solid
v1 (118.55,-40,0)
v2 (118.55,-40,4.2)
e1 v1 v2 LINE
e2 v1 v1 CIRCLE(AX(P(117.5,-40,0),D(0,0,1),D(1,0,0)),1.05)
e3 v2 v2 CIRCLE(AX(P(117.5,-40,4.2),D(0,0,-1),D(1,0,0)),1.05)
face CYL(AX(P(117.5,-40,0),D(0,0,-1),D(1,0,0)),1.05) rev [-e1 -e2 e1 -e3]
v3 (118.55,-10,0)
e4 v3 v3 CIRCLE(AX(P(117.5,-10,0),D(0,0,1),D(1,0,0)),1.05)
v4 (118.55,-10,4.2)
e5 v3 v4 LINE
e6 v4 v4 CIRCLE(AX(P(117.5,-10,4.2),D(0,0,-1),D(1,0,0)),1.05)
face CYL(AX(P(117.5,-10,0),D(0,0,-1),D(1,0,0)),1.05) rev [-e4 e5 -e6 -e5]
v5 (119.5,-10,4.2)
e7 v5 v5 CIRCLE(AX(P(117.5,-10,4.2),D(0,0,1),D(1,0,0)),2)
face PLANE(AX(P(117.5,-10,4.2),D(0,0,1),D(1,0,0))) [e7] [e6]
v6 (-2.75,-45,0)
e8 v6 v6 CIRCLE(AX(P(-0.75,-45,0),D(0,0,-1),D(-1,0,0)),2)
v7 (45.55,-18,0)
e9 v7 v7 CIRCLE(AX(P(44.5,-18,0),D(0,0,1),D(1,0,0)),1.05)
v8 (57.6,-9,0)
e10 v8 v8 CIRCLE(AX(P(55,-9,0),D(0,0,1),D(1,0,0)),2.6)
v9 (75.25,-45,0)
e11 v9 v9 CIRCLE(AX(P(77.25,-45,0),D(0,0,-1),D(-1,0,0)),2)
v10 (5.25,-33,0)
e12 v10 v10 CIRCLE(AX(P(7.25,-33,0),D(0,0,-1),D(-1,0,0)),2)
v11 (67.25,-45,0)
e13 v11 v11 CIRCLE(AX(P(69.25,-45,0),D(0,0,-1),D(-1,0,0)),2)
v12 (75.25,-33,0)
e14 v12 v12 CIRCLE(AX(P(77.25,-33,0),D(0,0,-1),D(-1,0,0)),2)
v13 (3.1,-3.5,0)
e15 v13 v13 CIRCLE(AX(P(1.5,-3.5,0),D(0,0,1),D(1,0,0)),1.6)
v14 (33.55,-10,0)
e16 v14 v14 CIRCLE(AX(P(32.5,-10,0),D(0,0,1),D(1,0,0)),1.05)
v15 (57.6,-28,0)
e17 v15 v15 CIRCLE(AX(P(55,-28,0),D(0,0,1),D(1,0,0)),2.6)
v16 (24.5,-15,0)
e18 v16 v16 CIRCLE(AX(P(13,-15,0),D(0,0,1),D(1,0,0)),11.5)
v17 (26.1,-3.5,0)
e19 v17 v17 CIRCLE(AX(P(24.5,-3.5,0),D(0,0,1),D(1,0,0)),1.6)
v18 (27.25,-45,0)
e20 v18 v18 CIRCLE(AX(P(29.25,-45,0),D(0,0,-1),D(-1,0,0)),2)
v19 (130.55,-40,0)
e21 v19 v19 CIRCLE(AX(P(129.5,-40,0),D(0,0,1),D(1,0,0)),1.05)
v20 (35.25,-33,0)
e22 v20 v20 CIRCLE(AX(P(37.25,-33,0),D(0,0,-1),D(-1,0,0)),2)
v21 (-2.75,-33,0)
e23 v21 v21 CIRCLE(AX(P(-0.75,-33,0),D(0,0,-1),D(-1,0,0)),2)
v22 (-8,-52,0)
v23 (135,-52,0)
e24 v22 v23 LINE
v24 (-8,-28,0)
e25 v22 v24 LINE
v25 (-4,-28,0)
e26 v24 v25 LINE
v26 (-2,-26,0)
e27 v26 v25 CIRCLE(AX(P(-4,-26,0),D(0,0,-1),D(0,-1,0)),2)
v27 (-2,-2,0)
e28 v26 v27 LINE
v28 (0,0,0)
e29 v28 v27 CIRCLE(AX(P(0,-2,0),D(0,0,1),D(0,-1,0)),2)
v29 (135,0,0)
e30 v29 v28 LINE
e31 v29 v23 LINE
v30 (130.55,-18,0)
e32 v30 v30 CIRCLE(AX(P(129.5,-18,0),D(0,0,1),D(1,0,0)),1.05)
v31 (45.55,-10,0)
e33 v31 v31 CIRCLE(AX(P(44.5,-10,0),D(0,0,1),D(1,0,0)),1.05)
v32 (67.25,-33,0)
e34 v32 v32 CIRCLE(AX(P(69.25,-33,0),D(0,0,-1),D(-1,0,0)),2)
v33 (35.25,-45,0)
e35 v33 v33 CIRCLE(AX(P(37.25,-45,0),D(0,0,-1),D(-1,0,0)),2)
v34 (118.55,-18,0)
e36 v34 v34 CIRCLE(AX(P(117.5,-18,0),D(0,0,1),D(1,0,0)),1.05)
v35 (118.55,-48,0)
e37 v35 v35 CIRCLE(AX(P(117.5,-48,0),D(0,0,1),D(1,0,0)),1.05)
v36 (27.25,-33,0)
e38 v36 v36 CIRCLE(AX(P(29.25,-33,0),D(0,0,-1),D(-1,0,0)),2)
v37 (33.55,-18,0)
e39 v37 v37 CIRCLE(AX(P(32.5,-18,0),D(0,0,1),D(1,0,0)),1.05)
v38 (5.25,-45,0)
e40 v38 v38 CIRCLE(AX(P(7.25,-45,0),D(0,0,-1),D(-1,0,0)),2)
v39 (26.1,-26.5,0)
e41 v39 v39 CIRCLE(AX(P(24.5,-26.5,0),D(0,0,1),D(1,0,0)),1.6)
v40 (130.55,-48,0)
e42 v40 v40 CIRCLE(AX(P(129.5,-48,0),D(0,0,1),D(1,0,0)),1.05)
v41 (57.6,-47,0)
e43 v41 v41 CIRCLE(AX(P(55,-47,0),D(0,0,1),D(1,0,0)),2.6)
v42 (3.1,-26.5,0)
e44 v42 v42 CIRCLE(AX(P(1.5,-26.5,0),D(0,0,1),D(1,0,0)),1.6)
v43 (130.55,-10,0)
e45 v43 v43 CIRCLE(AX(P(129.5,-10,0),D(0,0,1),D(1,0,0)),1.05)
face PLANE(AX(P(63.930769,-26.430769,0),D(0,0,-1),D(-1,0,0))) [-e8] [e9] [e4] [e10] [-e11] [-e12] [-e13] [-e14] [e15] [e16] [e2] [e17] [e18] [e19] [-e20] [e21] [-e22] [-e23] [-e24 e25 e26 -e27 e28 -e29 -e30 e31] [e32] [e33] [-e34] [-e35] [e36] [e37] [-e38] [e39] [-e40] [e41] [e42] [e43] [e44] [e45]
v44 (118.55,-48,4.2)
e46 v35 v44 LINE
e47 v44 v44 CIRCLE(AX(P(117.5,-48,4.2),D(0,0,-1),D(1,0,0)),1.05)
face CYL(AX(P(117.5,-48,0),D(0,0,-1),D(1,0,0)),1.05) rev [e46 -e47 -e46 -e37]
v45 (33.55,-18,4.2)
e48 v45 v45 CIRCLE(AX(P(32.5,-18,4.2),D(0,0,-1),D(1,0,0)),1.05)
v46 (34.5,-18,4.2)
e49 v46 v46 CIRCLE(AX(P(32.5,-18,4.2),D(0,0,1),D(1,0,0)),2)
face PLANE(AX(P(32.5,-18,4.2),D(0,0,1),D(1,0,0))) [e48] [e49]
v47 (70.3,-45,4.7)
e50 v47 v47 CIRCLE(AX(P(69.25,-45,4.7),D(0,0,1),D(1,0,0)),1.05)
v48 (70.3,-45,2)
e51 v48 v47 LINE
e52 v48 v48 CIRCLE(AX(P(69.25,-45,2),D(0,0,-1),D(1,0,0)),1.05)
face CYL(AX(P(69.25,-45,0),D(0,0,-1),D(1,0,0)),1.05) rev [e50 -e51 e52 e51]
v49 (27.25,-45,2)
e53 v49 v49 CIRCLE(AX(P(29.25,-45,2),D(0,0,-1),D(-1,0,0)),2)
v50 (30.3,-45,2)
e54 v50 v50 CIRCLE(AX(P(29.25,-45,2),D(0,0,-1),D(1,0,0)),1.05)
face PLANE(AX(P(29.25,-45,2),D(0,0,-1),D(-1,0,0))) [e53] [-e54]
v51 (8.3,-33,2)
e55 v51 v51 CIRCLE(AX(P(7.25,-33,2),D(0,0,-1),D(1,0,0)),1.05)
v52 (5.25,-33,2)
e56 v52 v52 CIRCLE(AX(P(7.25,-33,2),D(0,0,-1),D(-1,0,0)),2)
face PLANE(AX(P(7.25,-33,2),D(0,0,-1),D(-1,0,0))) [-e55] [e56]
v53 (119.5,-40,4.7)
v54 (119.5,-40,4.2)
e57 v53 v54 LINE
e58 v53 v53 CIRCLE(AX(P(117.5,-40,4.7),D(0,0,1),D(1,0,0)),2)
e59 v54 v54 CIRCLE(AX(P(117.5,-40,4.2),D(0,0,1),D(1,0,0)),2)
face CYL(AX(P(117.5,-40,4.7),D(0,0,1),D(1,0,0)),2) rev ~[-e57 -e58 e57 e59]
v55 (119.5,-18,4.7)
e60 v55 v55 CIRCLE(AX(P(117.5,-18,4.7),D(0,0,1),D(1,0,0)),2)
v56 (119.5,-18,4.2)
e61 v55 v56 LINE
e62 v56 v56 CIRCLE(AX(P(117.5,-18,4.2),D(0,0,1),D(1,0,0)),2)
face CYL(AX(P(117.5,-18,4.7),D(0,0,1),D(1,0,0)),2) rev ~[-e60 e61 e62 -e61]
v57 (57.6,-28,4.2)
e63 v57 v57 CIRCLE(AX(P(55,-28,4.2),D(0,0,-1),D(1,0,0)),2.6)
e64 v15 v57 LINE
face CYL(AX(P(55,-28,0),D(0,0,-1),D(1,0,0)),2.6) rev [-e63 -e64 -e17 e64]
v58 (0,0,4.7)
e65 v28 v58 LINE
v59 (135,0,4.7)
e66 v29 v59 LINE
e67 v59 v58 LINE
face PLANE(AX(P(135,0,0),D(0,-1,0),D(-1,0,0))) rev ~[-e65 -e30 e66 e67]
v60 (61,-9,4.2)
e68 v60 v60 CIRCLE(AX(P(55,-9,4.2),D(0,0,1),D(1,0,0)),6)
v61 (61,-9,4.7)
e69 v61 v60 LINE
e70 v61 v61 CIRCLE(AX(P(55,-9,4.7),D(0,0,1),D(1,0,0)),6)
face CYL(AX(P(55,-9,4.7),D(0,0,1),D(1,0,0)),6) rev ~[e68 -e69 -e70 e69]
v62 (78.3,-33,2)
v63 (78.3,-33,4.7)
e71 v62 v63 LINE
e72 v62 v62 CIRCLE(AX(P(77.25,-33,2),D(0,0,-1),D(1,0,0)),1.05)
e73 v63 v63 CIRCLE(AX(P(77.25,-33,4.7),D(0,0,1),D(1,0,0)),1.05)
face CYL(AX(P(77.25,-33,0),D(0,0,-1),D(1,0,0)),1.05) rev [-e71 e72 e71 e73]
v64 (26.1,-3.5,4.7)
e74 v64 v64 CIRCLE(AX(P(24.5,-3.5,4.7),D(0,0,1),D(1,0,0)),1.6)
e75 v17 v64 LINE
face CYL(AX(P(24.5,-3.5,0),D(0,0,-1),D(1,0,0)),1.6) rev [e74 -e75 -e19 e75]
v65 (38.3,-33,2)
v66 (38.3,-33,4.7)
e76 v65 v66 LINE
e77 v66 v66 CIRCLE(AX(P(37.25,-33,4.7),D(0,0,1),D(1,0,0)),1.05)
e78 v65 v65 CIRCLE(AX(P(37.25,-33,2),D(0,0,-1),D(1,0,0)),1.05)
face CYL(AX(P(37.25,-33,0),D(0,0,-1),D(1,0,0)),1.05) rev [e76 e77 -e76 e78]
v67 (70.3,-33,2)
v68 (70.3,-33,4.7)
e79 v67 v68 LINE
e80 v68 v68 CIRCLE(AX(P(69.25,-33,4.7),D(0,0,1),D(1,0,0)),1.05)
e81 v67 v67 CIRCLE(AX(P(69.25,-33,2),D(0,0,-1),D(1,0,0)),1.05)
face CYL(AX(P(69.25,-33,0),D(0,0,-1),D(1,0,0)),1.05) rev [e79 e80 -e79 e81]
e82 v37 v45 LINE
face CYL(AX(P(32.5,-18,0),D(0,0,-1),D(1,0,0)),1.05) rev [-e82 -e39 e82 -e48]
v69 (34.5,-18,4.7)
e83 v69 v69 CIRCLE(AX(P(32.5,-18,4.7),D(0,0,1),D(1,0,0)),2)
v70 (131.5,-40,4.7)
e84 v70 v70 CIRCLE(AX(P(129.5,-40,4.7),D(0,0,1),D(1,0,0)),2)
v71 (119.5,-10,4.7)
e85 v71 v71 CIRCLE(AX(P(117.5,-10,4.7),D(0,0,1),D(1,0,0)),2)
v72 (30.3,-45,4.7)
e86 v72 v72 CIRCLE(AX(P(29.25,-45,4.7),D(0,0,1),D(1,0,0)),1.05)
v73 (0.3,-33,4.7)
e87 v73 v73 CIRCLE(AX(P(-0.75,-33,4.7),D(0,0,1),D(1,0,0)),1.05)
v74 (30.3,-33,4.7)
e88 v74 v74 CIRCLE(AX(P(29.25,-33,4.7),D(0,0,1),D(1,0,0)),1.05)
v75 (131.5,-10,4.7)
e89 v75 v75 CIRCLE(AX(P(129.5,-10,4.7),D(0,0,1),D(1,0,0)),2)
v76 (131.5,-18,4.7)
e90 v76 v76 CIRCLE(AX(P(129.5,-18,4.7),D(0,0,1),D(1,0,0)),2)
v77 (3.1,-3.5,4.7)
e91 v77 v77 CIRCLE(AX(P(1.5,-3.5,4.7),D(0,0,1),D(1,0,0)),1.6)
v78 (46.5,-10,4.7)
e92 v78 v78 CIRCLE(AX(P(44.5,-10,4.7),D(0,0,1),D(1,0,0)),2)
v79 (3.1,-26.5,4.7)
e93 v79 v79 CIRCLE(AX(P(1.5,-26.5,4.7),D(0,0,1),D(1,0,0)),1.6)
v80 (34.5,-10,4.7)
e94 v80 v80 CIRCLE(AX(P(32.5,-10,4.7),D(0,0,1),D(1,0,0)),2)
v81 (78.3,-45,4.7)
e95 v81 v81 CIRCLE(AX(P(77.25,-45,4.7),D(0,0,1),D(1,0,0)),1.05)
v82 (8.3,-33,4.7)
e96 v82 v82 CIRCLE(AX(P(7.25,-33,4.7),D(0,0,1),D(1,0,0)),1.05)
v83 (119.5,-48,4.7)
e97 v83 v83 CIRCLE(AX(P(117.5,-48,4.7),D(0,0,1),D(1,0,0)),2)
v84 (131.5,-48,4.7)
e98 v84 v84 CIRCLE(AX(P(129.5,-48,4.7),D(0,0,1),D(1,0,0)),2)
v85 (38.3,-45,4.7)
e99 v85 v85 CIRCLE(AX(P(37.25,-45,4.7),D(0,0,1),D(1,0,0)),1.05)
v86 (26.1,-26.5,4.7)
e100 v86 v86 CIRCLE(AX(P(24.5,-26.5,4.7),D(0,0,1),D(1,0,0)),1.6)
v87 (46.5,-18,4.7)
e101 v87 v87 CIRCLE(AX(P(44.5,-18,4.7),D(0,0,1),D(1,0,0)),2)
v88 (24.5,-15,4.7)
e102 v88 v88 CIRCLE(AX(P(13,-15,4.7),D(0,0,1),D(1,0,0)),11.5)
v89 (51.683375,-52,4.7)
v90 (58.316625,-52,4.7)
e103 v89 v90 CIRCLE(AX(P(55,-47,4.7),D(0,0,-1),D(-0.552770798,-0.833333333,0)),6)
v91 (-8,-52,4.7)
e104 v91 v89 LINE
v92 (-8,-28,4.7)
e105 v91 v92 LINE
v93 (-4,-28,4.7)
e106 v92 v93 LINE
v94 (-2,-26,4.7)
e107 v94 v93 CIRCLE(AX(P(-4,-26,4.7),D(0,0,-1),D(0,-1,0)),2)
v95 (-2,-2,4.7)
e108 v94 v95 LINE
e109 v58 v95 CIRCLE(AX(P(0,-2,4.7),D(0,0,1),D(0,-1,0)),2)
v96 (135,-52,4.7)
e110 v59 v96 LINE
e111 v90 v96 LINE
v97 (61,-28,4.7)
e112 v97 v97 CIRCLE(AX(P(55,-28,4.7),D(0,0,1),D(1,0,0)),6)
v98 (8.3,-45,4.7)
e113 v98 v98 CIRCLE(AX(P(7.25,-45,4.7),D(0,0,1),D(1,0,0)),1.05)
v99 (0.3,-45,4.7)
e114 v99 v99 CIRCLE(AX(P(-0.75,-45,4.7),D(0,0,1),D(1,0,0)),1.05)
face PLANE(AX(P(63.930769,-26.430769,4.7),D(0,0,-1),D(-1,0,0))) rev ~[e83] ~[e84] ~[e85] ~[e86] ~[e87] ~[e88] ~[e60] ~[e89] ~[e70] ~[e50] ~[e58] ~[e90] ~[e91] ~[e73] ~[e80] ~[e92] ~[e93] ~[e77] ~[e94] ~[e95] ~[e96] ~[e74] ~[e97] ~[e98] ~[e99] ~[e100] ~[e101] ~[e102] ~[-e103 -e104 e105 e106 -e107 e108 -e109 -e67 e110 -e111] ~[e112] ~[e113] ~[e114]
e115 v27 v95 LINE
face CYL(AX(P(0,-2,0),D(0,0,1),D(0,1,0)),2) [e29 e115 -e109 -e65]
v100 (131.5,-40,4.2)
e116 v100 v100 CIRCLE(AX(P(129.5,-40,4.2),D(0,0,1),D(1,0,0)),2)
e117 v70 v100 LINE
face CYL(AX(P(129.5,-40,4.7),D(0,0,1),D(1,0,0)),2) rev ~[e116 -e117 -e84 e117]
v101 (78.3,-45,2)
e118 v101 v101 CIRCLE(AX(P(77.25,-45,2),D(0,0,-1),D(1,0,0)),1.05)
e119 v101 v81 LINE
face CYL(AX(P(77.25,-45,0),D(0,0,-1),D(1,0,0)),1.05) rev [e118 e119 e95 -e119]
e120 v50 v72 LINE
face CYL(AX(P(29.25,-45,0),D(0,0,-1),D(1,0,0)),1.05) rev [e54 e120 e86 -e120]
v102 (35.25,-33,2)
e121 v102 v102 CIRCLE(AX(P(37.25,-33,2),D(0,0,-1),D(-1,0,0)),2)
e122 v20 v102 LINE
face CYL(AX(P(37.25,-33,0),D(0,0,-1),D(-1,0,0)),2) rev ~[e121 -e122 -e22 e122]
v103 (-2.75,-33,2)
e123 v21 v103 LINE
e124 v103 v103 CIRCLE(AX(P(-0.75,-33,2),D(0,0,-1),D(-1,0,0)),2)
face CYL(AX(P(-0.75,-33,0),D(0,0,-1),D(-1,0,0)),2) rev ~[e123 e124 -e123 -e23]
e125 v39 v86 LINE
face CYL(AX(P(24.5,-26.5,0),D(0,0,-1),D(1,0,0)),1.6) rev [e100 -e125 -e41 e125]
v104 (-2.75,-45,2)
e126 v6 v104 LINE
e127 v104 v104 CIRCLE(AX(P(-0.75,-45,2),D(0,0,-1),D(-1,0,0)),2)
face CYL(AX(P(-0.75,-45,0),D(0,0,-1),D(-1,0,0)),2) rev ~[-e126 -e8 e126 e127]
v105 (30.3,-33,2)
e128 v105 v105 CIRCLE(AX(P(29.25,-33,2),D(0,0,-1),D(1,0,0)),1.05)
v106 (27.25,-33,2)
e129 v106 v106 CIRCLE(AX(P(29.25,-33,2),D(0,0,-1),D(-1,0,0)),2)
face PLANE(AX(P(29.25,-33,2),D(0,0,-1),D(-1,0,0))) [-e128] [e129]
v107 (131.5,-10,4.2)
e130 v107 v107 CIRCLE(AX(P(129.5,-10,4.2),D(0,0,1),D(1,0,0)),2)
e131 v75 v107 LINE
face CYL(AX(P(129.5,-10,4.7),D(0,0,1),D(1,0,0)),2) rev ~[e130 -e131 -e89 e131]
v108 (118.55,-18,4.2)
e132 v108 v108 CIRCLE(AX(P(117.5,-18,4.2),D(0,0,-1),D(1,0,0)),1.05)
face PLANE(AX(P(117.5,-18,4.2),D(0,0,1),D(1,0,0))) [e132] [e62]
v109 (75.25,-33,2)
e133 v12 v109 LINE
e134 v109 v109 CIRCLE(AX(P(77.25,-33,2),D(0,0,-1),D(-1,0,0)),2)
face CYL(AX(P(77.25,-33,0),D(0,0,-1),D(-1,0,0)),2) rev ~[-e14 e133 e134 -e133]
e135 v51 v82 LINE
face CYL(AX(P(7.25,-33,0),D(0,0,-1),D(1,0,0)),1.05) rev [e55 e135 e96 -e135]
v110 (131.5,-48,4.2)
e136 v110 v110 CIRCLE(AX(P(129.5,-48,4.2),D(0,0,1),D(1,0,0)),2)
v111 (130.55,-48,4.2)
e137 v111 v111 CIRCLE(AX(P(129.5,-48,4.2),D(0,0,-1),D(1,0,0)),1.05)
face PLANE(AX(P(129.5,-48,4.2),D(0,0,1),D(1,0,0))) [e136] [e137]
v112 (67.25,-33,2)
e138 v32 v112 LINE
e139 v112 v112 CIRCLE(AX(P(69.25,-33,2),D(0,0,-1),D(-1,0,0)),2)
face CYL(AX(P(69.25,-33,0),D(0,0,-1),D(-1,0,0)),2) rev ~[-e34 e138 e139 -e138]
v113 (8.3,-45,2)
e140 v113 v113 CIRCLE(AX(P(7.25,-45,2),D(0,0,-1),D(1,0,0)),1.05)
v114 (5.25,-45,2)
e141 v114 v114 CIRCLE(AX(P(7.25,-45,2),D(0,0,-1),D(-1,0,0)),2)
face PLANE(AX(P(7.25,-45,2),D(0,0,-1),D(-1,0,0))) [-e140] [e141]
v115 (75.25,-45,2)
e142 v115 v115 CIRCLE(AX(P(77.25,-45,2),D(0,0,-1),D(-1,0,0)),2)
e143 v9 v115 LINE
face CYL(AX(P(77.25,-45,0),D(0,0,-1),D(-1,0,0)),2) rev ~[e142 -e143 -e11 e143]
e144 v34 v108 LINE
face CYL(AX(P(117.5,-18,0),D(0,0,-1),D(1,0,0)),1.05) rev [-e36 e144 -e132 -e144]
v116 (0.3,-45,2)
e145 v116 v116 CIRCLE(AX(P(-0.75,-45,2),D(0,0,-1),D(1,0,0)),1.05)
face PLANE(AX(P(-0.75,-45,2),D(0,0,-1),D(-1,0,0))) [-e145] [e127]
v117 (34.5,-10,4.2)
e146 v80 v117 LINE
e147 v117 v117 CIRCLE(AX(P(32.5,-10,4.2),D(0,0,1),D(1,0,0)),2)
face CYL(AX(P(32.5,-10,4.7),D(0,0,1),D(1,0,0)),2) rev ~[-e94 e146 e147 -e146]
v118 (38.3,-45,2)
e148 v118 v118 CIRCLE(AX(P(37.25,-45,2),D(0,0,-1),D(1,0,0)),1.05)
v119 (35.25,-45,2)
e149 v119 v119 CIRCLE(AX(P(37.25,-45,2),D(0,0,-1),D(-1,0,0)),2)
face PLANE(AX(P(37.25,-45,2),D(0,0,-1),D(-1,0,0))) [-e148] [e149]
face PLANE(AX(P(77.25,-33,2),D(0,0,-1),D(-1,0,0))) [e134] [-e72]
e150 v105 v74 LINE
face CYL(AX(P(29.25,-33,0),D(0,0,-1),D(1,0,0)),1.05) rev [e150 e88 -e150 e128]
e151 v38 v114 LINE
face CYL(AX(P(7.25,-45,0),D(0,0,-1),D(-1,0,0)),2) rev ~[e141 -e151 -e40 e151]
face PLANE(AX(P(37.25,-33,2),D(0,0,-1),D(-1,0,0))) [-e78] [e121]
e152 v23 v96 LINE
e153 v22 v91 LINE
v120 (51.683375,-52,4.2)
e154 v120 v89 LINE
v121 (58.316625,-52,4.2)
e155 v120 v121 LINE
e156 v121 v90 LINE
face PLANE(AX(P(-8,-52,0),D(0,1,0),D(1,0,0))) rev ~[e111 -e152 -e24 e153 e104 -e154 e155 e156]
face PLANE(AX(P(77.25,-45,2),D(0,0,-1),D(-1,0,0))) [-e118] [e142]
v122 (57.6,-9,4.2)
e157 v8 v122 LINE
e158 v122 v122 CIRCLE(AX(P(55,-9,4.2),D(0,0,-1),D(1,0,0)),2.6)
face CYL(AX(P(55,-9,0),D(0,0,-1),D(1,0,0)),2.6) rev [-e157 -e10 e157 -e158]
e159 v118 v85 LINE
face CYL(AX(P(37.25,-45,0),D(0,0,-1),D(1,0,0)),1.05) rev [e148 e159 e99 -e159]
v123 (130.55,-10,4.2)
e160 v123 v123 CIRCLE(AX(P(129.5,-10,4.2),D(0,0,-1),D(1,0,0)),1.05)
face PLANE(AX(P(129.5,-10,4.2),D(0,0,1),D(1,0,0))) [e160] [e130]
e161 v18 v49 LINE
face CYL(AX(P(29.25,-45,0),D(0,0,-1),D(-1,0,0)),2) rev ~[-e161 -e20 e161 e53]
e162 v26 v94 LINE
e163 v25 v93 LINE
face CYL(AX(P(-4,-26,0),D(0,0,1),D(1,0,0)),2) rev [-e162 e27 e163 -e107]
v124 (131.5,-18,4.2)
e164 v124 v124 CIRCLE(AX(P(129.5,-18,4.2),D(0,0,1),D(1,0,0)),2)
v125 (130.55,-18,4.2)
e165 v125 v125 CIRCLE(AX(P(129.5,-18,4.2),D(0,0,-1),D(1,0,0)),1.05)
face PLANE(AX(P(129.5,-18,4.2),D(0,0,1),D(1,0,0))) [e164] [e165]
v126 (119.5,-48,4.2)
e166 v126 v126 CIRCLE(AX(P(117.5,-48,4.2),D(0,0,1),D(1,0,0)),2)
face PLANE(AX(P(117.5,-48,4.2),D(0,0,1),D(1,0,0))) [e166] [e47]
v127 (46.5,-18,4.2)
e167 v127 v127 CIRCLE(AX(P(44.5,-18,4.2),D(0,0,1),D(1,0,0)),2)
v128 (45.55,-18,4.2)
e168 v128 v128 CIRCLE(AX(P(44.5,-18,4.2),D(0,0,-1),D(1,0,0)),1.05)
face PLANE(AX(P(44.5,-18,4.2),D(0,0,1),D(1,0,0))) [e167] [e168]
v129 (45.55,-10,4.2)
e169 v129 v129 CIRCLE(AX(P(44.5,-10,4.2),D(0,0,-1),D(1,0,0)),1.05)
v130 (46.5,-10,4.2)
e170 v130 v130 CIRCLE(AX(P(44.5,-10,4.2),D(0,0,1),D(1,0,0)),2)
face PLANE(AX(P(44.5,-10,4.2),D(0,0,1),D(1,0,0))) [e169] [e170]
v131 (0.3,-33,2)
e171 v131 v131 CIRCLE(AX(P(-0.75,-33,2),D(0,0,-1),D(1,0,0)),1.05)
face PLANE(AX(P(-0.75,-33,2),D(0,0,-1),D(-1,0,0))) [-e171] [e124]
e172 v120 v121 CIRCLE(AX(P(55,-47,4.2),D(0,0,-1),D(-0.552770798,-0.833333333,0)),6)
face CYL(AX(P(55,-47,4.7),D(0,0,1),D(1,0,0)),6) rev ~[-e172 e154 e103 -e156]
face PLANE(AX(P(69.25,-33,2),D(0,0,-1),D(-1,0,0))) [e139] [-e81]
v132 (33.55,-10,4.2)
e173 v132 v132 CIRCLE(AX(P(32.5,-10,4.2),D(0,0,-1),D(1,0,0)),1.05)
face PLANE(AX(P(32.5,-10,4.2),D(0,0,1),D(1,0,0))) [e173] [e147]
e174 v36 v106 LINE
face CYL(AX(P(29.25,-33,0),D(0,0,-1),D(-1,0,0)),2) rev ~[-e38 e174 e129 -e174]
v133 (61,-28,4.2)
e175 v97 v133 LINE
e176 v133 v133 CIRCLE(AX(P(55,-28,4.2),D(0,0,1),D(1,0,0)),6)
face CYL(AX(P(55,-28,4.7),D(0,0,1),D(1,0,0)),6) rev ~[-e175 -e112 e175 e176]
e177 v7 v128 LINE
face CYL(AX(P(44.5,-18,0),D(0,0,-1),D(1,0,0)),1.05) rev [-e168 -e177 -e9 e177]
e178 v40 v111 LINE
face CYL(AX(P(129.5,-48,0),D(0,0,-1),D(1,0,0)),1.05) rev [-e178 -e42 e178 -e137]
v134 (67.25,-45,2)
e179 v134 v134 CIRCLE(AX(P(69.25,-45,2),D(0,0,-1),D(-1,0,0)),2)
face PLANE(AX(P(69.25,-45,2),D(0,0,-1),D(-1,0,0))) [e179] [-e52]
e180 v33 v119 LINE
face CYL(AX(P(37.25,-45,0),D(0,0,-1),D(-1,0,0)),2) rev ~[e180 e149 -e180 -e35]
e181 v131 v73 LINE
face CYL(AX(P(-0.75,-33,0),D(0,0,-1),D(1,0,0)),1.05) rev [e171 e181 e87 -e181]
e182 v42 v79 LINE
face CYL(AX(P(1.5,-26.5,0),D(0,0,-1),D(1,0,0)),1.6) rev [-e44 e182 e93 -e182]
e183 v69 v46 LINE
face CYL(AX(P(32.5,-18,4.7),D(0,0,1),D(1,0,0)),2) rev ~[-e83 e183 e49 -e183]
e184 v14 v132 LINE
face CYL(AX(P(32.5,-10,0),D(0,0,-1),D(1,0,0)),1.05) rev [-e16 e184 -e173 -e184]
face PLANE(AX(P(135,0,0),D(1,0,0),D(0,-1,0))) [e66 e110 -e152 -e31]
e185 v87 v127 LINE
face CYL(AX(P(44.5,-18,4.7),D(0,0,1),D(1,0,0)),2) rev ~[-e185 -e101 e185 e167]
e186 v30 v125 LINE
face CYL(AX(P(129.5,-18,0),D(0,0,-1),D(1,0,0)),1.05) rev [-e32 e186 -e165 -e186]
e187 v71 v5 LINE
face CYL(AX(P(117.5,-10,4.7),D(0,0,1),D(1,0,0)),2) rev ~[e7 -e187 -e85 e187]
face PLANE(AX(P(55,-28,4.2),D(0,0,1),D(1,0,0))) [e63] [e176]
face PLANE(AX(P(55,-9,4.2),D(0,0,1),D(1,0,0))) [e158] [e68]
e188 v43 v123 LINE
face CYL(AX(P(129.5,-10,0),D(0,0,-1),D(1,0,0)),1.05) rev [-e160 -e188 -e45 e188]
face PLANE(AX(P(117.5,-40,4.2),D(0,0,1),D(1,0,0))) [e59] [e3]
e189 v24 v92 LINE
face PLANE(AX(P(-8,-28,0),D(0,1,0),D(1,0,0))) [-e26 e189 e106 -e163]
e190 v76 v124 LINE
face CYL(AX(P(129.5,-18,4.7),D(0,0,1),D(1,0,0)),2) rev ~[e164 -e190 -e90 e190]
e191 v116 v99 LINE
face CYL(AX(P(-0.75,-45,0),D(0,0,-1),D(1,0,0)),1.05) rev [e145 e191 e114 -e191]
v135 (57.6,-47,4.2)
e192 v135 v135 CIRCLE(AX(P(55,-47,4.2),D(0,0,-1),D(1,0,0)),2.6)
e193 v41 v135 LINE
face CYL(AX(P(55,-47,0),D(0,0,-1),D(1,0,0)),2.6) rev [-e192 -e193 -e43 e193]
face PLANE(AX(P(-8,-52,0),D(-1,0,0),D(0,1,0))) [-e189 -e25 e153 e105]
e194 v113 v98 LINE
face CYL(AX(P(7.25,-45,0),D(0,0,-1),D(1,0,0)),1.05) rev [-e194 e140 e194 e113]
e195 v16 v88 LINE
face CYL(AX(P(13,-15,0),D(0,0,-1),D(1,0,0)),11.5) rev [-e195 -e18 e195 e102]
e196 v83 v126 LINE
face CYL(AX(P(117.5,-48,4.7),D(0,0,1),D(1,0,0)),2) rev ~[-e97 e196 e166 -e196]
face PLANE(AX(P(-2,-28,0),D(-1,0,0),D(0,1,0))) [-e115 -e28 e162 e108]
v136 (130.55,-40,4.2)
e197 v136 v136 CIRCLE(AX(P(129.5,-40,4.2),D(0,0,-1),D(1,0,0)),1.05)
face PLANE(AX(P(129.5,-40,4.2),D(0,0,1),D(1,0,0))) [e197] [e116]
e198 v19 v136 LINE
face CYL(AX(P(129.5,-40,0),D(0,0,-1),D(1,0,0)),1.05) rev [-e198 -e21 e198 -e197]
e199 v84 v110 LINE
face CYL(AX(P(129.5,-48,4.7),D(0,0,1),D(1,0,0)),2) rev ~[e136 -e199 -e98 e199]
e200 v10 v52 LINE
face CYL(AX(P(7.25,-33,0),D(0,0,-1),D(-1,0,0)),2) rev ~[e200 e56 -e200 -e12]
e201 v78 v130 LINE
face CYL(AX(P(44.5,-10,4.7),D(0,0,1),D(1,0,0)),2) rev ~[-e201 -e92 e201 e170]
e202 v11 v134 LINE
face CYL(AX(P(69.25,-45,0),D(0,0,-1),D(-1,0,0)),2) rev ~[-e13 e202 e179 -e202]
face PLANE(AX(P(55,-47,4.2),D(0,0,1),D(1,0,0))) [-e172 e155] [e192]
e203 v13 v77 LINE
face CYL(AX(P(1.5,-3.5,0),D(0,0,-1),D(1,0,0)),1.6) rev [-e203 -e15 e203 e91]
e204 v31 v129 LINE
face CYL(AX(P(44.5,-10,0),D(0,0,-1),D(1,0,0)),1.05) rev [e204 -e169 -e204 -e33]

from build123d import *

# Parameters (mm, degrees)
SKETCH_1_R          = 11.5
SKETCH_1_R_2        = 1.6
SKETCH_1_R_3        = 1.05
SKETCH_1_R_4        = 2.6
EXTRUDE_1_DEPTH     = 4.7
SKETCH_2_R          = 2
SKETCH_2_R_2        = 6
CUT_EXTRUDE_1_DEPTH = 0.5
SKETCH_5_R          = 2
CUT_EXTRUDE_2_DEPTH = 2
FILLET_1_R          = 2


with BuildPart() as part:
    # 草图1 → 凸台-拉伸1 (new body)
    with BuildSketch(Plane.XY):
        Polygon((0, 0), (135, 0), (135, -52), (0, -52), (-8, -52), (-8, -28), (-2, -28), (-2, 0), align=None)
        with Locations((13, -15)):
            Circle(SKETCH_1_R, mode=Mode.SUBTRACT)
        with Locations((1.5, -3.5)):
            Circle(SKETCH_1_R_2, mode=Mode.SUBTRACT)
        with Locations((24.5, -3.5)):
            Circle(SKETCH_1_R_2, mode=Mode.SUBTRACT)
        with Locations((1.5, -26.5)):
            Circle(SKETCH_1_R_2, mode=Mode.SUBTRACT)
        with Locations((24.5, -26.5)):
            Circle(SKETCH_1_R_2, mode=Mode.SUBTRACT)
        with Locations((32.5, -10)):
            Circle(SKETCH_1_R_3, mode=Mode.SUBTRACT)
        with Locations((44.5, -10)):
            Circle(SKETCH_1_R_3, mode=Mode.SUBTRACT)
        with Locations((32.5, -18)):
            Circle(SKETCH_1_R_3, mode=Mode.SUBTRACT)
        with Locations((44.5, -18)):
            Circle(SKETCH_1_R_3, mode=Mode.SUBTRACT)
        with Locations((117.5, -10)):
            Circle(SKETCH_1_R_3, mode=Mode.SUBTRACT)
        with Locations((129.5, -10)):
            Circle(SKETCH_1_R_3, mode=Mode.SUBTRACT)
        with Locations((117.5, -18)):
            Circle(SKETCH_1_R_3, mode=Mode.SUBTRACT)
        with Locations((129.5, -18)):
            Circle(SKETCH_1_R_3, mode=Mode.SUBTRACT)
        with Locations((-0.75, -33)):
            Circle(SKETCH_1_R_3, mode=Mode.SUBTRACT)
        with Locations((7.25, -33)):
            Circle(SKETCH_1_R_3, mode=Mode.SUBTRACT)
        with Locations((-0.75, -45)):
            Circle(SKETCH_1_R_3, mode=Mode.SUBTRACT)
        with Locations((7.25, -45)):
            Circle(SKETCH_1_R_3, mode=Mode.SUBTRACT)
        with Locations((29.25, -33)):
            Circle(SKETCH_1_R_3, mode=Mode.SUBTRACT)
        with Locations((37.25, -33)):
            Circle(SKETCH_1_R_3, mode=Mode.SUBTRACT)
        with Locations((37.25, -45)):
            Circle(SKETCH_1_R_3, mode=Mode.SUBTRACT)
        with Locations((29.25, -45)):
            Circle(SKETCH_1_R_3, mode=Mode.SUBTRACT)
        with Locations((117.5, -40)):
            Circle(SKETCH_1_R_3, mode=Mode.SUBTRACT)
        with Locations((129.5, -40)):
            Circle(SKETCH_1_R_3, mode=Mode.SUBTRACT)
        with Locations((117.5, -48)):
            Circle(SKETCH_1_R_3, mode=Mode.SUBTRACT)
        with Locations((129.5, -48)):
            Circle(SKETCH_1_R_3, mode=Mode.SUBTRACT)
        with Locations((55, -28)):
            Circle(SKETCH_1_R_4, mode=Mode.SUBTRACT)
        with Locations((55, -47)):
            Circle(SKETCH_1_R_4, mode=Mode.SUBTRACT)
        with Locations((77.25, -33)):
            Circle(SKETCH_1_R_3, mode=Mode.SUBTRACT)
        with Locations((77.25, -45)):
            Circle(SKETCH_1_R_3, mode=Mode.SUBTRACT)
        with Locations((69.25, -45)):
            Circle(SKETCH_1_R_3, mode=Mode.SUBTRACT)
        with Locations((69.25, -33)):
            Circle(SKETCH_1_R_3, mode=Mode.SUBTRACT)
        with Locations((55, -9)):
            Circle(SKETCH_1_R_4, mode=Mode.SUBTRACT)
    extrude(amount=EXTRUDE_1_DEPTH)

    # 草图2 → 切除-拉伸1 (cut)
    with BuildSketch(Plane.XY.offset(4.7)):
        with Locations((32.5, -10)):
            Circle(SKETCH_2_R)
        with Locations((44.5, -10)):
            Circle(SKETCH_2_R)
        with Locations((32.5, -18)):
            Circle(SKETCH_2_R)
        with Locations((44.5, -18)):
            Circle(SKETCH_2_R)
        with Locations((117.5, -10)):
            Circle(SKETCH_2_R)
        with Locations((129.5, -10)):
            Circle(SKETCH_2_R)
        with Locations((117.5, -18)):
            Circle(SKETCH_2_R)
        with Locations((129.5, -18)):
            Circle(SKETCH_2_R)
        with Locations((117.5, -40)):
            Circle(SKETCH_2_R)
        with Locations((129.5, -40)):
            Circle(SKETCH_2_R)
        with Locations((117.5, -48)):
            Circle(SKETCH_2_R)
        with Locations((55, -28)):
            Circle(SKETCH_2_R_2)
        with Locations((129.5, -48)):
            Circle(SKETCH_2_R)
        with Locations((55, -47)):
            Circle(SKETCH_2_R_2)
        with Locations((55, -9)):
            Circle(SKETCH_2_R_2)
    extrude(amount=-CUT_EXTRUDE_1_DEPTH, mode=Mode.SUBTRACT)

    # 草图5 → 切除-拉伸2 (cut)
    with BuildSketch(Plane(origin=(0, 0, 0), x_dir=(-1, 0, 0), z_dir=(0, 0, -1))):
        with Locations((-37.25, -33)):
            Circle(SKETCH_5_R)
        with Locations((-29.25, -33)):
            Circle(SKETCH_5_R)
        with Locations((-37.25, -45)):
            Circle(SKETCH_5_R)
        with Locations((-29.25, -45)):
            Circle(SKETCH_5_R)
        with Locations((-7.25, -33)):
            Circle(SKETCH_5_R)
        with Locations((0.75, -33)):
            Circle(SKETCH_5_R)
        with Locations((-7.25, -45)):
            Circle(SKETCH_5_R)
        with Locations((0.75, -45)):
            Circle(SKETCH_5_R)
        with Locations((-69.25, -33)):
            Circle(SKETCH_5_R)
        with Locations((-69.25, -45)):
            Circle(SKETCH_5_R)
        with Locations((-77.25, -45)):
            Circle(SKETCH_5_R)
        with Locations((-77.25, -33)):
            Circle(SKETCH_5_R)
    extrude(amount=-CUT_EXTRUDE_2_DEPTH, mode=Mode.SUBTRACT)

    # 圆角1
    fillet_1_edges = [part.edges().sort_by_distance(p)[0] for p in [
        (-2, -28, 2.35),
        (-2, 0, 2.35),
    ]]
    fillet(fillet_1_edges, radius=FILLET_1_R)


solid = part.part
